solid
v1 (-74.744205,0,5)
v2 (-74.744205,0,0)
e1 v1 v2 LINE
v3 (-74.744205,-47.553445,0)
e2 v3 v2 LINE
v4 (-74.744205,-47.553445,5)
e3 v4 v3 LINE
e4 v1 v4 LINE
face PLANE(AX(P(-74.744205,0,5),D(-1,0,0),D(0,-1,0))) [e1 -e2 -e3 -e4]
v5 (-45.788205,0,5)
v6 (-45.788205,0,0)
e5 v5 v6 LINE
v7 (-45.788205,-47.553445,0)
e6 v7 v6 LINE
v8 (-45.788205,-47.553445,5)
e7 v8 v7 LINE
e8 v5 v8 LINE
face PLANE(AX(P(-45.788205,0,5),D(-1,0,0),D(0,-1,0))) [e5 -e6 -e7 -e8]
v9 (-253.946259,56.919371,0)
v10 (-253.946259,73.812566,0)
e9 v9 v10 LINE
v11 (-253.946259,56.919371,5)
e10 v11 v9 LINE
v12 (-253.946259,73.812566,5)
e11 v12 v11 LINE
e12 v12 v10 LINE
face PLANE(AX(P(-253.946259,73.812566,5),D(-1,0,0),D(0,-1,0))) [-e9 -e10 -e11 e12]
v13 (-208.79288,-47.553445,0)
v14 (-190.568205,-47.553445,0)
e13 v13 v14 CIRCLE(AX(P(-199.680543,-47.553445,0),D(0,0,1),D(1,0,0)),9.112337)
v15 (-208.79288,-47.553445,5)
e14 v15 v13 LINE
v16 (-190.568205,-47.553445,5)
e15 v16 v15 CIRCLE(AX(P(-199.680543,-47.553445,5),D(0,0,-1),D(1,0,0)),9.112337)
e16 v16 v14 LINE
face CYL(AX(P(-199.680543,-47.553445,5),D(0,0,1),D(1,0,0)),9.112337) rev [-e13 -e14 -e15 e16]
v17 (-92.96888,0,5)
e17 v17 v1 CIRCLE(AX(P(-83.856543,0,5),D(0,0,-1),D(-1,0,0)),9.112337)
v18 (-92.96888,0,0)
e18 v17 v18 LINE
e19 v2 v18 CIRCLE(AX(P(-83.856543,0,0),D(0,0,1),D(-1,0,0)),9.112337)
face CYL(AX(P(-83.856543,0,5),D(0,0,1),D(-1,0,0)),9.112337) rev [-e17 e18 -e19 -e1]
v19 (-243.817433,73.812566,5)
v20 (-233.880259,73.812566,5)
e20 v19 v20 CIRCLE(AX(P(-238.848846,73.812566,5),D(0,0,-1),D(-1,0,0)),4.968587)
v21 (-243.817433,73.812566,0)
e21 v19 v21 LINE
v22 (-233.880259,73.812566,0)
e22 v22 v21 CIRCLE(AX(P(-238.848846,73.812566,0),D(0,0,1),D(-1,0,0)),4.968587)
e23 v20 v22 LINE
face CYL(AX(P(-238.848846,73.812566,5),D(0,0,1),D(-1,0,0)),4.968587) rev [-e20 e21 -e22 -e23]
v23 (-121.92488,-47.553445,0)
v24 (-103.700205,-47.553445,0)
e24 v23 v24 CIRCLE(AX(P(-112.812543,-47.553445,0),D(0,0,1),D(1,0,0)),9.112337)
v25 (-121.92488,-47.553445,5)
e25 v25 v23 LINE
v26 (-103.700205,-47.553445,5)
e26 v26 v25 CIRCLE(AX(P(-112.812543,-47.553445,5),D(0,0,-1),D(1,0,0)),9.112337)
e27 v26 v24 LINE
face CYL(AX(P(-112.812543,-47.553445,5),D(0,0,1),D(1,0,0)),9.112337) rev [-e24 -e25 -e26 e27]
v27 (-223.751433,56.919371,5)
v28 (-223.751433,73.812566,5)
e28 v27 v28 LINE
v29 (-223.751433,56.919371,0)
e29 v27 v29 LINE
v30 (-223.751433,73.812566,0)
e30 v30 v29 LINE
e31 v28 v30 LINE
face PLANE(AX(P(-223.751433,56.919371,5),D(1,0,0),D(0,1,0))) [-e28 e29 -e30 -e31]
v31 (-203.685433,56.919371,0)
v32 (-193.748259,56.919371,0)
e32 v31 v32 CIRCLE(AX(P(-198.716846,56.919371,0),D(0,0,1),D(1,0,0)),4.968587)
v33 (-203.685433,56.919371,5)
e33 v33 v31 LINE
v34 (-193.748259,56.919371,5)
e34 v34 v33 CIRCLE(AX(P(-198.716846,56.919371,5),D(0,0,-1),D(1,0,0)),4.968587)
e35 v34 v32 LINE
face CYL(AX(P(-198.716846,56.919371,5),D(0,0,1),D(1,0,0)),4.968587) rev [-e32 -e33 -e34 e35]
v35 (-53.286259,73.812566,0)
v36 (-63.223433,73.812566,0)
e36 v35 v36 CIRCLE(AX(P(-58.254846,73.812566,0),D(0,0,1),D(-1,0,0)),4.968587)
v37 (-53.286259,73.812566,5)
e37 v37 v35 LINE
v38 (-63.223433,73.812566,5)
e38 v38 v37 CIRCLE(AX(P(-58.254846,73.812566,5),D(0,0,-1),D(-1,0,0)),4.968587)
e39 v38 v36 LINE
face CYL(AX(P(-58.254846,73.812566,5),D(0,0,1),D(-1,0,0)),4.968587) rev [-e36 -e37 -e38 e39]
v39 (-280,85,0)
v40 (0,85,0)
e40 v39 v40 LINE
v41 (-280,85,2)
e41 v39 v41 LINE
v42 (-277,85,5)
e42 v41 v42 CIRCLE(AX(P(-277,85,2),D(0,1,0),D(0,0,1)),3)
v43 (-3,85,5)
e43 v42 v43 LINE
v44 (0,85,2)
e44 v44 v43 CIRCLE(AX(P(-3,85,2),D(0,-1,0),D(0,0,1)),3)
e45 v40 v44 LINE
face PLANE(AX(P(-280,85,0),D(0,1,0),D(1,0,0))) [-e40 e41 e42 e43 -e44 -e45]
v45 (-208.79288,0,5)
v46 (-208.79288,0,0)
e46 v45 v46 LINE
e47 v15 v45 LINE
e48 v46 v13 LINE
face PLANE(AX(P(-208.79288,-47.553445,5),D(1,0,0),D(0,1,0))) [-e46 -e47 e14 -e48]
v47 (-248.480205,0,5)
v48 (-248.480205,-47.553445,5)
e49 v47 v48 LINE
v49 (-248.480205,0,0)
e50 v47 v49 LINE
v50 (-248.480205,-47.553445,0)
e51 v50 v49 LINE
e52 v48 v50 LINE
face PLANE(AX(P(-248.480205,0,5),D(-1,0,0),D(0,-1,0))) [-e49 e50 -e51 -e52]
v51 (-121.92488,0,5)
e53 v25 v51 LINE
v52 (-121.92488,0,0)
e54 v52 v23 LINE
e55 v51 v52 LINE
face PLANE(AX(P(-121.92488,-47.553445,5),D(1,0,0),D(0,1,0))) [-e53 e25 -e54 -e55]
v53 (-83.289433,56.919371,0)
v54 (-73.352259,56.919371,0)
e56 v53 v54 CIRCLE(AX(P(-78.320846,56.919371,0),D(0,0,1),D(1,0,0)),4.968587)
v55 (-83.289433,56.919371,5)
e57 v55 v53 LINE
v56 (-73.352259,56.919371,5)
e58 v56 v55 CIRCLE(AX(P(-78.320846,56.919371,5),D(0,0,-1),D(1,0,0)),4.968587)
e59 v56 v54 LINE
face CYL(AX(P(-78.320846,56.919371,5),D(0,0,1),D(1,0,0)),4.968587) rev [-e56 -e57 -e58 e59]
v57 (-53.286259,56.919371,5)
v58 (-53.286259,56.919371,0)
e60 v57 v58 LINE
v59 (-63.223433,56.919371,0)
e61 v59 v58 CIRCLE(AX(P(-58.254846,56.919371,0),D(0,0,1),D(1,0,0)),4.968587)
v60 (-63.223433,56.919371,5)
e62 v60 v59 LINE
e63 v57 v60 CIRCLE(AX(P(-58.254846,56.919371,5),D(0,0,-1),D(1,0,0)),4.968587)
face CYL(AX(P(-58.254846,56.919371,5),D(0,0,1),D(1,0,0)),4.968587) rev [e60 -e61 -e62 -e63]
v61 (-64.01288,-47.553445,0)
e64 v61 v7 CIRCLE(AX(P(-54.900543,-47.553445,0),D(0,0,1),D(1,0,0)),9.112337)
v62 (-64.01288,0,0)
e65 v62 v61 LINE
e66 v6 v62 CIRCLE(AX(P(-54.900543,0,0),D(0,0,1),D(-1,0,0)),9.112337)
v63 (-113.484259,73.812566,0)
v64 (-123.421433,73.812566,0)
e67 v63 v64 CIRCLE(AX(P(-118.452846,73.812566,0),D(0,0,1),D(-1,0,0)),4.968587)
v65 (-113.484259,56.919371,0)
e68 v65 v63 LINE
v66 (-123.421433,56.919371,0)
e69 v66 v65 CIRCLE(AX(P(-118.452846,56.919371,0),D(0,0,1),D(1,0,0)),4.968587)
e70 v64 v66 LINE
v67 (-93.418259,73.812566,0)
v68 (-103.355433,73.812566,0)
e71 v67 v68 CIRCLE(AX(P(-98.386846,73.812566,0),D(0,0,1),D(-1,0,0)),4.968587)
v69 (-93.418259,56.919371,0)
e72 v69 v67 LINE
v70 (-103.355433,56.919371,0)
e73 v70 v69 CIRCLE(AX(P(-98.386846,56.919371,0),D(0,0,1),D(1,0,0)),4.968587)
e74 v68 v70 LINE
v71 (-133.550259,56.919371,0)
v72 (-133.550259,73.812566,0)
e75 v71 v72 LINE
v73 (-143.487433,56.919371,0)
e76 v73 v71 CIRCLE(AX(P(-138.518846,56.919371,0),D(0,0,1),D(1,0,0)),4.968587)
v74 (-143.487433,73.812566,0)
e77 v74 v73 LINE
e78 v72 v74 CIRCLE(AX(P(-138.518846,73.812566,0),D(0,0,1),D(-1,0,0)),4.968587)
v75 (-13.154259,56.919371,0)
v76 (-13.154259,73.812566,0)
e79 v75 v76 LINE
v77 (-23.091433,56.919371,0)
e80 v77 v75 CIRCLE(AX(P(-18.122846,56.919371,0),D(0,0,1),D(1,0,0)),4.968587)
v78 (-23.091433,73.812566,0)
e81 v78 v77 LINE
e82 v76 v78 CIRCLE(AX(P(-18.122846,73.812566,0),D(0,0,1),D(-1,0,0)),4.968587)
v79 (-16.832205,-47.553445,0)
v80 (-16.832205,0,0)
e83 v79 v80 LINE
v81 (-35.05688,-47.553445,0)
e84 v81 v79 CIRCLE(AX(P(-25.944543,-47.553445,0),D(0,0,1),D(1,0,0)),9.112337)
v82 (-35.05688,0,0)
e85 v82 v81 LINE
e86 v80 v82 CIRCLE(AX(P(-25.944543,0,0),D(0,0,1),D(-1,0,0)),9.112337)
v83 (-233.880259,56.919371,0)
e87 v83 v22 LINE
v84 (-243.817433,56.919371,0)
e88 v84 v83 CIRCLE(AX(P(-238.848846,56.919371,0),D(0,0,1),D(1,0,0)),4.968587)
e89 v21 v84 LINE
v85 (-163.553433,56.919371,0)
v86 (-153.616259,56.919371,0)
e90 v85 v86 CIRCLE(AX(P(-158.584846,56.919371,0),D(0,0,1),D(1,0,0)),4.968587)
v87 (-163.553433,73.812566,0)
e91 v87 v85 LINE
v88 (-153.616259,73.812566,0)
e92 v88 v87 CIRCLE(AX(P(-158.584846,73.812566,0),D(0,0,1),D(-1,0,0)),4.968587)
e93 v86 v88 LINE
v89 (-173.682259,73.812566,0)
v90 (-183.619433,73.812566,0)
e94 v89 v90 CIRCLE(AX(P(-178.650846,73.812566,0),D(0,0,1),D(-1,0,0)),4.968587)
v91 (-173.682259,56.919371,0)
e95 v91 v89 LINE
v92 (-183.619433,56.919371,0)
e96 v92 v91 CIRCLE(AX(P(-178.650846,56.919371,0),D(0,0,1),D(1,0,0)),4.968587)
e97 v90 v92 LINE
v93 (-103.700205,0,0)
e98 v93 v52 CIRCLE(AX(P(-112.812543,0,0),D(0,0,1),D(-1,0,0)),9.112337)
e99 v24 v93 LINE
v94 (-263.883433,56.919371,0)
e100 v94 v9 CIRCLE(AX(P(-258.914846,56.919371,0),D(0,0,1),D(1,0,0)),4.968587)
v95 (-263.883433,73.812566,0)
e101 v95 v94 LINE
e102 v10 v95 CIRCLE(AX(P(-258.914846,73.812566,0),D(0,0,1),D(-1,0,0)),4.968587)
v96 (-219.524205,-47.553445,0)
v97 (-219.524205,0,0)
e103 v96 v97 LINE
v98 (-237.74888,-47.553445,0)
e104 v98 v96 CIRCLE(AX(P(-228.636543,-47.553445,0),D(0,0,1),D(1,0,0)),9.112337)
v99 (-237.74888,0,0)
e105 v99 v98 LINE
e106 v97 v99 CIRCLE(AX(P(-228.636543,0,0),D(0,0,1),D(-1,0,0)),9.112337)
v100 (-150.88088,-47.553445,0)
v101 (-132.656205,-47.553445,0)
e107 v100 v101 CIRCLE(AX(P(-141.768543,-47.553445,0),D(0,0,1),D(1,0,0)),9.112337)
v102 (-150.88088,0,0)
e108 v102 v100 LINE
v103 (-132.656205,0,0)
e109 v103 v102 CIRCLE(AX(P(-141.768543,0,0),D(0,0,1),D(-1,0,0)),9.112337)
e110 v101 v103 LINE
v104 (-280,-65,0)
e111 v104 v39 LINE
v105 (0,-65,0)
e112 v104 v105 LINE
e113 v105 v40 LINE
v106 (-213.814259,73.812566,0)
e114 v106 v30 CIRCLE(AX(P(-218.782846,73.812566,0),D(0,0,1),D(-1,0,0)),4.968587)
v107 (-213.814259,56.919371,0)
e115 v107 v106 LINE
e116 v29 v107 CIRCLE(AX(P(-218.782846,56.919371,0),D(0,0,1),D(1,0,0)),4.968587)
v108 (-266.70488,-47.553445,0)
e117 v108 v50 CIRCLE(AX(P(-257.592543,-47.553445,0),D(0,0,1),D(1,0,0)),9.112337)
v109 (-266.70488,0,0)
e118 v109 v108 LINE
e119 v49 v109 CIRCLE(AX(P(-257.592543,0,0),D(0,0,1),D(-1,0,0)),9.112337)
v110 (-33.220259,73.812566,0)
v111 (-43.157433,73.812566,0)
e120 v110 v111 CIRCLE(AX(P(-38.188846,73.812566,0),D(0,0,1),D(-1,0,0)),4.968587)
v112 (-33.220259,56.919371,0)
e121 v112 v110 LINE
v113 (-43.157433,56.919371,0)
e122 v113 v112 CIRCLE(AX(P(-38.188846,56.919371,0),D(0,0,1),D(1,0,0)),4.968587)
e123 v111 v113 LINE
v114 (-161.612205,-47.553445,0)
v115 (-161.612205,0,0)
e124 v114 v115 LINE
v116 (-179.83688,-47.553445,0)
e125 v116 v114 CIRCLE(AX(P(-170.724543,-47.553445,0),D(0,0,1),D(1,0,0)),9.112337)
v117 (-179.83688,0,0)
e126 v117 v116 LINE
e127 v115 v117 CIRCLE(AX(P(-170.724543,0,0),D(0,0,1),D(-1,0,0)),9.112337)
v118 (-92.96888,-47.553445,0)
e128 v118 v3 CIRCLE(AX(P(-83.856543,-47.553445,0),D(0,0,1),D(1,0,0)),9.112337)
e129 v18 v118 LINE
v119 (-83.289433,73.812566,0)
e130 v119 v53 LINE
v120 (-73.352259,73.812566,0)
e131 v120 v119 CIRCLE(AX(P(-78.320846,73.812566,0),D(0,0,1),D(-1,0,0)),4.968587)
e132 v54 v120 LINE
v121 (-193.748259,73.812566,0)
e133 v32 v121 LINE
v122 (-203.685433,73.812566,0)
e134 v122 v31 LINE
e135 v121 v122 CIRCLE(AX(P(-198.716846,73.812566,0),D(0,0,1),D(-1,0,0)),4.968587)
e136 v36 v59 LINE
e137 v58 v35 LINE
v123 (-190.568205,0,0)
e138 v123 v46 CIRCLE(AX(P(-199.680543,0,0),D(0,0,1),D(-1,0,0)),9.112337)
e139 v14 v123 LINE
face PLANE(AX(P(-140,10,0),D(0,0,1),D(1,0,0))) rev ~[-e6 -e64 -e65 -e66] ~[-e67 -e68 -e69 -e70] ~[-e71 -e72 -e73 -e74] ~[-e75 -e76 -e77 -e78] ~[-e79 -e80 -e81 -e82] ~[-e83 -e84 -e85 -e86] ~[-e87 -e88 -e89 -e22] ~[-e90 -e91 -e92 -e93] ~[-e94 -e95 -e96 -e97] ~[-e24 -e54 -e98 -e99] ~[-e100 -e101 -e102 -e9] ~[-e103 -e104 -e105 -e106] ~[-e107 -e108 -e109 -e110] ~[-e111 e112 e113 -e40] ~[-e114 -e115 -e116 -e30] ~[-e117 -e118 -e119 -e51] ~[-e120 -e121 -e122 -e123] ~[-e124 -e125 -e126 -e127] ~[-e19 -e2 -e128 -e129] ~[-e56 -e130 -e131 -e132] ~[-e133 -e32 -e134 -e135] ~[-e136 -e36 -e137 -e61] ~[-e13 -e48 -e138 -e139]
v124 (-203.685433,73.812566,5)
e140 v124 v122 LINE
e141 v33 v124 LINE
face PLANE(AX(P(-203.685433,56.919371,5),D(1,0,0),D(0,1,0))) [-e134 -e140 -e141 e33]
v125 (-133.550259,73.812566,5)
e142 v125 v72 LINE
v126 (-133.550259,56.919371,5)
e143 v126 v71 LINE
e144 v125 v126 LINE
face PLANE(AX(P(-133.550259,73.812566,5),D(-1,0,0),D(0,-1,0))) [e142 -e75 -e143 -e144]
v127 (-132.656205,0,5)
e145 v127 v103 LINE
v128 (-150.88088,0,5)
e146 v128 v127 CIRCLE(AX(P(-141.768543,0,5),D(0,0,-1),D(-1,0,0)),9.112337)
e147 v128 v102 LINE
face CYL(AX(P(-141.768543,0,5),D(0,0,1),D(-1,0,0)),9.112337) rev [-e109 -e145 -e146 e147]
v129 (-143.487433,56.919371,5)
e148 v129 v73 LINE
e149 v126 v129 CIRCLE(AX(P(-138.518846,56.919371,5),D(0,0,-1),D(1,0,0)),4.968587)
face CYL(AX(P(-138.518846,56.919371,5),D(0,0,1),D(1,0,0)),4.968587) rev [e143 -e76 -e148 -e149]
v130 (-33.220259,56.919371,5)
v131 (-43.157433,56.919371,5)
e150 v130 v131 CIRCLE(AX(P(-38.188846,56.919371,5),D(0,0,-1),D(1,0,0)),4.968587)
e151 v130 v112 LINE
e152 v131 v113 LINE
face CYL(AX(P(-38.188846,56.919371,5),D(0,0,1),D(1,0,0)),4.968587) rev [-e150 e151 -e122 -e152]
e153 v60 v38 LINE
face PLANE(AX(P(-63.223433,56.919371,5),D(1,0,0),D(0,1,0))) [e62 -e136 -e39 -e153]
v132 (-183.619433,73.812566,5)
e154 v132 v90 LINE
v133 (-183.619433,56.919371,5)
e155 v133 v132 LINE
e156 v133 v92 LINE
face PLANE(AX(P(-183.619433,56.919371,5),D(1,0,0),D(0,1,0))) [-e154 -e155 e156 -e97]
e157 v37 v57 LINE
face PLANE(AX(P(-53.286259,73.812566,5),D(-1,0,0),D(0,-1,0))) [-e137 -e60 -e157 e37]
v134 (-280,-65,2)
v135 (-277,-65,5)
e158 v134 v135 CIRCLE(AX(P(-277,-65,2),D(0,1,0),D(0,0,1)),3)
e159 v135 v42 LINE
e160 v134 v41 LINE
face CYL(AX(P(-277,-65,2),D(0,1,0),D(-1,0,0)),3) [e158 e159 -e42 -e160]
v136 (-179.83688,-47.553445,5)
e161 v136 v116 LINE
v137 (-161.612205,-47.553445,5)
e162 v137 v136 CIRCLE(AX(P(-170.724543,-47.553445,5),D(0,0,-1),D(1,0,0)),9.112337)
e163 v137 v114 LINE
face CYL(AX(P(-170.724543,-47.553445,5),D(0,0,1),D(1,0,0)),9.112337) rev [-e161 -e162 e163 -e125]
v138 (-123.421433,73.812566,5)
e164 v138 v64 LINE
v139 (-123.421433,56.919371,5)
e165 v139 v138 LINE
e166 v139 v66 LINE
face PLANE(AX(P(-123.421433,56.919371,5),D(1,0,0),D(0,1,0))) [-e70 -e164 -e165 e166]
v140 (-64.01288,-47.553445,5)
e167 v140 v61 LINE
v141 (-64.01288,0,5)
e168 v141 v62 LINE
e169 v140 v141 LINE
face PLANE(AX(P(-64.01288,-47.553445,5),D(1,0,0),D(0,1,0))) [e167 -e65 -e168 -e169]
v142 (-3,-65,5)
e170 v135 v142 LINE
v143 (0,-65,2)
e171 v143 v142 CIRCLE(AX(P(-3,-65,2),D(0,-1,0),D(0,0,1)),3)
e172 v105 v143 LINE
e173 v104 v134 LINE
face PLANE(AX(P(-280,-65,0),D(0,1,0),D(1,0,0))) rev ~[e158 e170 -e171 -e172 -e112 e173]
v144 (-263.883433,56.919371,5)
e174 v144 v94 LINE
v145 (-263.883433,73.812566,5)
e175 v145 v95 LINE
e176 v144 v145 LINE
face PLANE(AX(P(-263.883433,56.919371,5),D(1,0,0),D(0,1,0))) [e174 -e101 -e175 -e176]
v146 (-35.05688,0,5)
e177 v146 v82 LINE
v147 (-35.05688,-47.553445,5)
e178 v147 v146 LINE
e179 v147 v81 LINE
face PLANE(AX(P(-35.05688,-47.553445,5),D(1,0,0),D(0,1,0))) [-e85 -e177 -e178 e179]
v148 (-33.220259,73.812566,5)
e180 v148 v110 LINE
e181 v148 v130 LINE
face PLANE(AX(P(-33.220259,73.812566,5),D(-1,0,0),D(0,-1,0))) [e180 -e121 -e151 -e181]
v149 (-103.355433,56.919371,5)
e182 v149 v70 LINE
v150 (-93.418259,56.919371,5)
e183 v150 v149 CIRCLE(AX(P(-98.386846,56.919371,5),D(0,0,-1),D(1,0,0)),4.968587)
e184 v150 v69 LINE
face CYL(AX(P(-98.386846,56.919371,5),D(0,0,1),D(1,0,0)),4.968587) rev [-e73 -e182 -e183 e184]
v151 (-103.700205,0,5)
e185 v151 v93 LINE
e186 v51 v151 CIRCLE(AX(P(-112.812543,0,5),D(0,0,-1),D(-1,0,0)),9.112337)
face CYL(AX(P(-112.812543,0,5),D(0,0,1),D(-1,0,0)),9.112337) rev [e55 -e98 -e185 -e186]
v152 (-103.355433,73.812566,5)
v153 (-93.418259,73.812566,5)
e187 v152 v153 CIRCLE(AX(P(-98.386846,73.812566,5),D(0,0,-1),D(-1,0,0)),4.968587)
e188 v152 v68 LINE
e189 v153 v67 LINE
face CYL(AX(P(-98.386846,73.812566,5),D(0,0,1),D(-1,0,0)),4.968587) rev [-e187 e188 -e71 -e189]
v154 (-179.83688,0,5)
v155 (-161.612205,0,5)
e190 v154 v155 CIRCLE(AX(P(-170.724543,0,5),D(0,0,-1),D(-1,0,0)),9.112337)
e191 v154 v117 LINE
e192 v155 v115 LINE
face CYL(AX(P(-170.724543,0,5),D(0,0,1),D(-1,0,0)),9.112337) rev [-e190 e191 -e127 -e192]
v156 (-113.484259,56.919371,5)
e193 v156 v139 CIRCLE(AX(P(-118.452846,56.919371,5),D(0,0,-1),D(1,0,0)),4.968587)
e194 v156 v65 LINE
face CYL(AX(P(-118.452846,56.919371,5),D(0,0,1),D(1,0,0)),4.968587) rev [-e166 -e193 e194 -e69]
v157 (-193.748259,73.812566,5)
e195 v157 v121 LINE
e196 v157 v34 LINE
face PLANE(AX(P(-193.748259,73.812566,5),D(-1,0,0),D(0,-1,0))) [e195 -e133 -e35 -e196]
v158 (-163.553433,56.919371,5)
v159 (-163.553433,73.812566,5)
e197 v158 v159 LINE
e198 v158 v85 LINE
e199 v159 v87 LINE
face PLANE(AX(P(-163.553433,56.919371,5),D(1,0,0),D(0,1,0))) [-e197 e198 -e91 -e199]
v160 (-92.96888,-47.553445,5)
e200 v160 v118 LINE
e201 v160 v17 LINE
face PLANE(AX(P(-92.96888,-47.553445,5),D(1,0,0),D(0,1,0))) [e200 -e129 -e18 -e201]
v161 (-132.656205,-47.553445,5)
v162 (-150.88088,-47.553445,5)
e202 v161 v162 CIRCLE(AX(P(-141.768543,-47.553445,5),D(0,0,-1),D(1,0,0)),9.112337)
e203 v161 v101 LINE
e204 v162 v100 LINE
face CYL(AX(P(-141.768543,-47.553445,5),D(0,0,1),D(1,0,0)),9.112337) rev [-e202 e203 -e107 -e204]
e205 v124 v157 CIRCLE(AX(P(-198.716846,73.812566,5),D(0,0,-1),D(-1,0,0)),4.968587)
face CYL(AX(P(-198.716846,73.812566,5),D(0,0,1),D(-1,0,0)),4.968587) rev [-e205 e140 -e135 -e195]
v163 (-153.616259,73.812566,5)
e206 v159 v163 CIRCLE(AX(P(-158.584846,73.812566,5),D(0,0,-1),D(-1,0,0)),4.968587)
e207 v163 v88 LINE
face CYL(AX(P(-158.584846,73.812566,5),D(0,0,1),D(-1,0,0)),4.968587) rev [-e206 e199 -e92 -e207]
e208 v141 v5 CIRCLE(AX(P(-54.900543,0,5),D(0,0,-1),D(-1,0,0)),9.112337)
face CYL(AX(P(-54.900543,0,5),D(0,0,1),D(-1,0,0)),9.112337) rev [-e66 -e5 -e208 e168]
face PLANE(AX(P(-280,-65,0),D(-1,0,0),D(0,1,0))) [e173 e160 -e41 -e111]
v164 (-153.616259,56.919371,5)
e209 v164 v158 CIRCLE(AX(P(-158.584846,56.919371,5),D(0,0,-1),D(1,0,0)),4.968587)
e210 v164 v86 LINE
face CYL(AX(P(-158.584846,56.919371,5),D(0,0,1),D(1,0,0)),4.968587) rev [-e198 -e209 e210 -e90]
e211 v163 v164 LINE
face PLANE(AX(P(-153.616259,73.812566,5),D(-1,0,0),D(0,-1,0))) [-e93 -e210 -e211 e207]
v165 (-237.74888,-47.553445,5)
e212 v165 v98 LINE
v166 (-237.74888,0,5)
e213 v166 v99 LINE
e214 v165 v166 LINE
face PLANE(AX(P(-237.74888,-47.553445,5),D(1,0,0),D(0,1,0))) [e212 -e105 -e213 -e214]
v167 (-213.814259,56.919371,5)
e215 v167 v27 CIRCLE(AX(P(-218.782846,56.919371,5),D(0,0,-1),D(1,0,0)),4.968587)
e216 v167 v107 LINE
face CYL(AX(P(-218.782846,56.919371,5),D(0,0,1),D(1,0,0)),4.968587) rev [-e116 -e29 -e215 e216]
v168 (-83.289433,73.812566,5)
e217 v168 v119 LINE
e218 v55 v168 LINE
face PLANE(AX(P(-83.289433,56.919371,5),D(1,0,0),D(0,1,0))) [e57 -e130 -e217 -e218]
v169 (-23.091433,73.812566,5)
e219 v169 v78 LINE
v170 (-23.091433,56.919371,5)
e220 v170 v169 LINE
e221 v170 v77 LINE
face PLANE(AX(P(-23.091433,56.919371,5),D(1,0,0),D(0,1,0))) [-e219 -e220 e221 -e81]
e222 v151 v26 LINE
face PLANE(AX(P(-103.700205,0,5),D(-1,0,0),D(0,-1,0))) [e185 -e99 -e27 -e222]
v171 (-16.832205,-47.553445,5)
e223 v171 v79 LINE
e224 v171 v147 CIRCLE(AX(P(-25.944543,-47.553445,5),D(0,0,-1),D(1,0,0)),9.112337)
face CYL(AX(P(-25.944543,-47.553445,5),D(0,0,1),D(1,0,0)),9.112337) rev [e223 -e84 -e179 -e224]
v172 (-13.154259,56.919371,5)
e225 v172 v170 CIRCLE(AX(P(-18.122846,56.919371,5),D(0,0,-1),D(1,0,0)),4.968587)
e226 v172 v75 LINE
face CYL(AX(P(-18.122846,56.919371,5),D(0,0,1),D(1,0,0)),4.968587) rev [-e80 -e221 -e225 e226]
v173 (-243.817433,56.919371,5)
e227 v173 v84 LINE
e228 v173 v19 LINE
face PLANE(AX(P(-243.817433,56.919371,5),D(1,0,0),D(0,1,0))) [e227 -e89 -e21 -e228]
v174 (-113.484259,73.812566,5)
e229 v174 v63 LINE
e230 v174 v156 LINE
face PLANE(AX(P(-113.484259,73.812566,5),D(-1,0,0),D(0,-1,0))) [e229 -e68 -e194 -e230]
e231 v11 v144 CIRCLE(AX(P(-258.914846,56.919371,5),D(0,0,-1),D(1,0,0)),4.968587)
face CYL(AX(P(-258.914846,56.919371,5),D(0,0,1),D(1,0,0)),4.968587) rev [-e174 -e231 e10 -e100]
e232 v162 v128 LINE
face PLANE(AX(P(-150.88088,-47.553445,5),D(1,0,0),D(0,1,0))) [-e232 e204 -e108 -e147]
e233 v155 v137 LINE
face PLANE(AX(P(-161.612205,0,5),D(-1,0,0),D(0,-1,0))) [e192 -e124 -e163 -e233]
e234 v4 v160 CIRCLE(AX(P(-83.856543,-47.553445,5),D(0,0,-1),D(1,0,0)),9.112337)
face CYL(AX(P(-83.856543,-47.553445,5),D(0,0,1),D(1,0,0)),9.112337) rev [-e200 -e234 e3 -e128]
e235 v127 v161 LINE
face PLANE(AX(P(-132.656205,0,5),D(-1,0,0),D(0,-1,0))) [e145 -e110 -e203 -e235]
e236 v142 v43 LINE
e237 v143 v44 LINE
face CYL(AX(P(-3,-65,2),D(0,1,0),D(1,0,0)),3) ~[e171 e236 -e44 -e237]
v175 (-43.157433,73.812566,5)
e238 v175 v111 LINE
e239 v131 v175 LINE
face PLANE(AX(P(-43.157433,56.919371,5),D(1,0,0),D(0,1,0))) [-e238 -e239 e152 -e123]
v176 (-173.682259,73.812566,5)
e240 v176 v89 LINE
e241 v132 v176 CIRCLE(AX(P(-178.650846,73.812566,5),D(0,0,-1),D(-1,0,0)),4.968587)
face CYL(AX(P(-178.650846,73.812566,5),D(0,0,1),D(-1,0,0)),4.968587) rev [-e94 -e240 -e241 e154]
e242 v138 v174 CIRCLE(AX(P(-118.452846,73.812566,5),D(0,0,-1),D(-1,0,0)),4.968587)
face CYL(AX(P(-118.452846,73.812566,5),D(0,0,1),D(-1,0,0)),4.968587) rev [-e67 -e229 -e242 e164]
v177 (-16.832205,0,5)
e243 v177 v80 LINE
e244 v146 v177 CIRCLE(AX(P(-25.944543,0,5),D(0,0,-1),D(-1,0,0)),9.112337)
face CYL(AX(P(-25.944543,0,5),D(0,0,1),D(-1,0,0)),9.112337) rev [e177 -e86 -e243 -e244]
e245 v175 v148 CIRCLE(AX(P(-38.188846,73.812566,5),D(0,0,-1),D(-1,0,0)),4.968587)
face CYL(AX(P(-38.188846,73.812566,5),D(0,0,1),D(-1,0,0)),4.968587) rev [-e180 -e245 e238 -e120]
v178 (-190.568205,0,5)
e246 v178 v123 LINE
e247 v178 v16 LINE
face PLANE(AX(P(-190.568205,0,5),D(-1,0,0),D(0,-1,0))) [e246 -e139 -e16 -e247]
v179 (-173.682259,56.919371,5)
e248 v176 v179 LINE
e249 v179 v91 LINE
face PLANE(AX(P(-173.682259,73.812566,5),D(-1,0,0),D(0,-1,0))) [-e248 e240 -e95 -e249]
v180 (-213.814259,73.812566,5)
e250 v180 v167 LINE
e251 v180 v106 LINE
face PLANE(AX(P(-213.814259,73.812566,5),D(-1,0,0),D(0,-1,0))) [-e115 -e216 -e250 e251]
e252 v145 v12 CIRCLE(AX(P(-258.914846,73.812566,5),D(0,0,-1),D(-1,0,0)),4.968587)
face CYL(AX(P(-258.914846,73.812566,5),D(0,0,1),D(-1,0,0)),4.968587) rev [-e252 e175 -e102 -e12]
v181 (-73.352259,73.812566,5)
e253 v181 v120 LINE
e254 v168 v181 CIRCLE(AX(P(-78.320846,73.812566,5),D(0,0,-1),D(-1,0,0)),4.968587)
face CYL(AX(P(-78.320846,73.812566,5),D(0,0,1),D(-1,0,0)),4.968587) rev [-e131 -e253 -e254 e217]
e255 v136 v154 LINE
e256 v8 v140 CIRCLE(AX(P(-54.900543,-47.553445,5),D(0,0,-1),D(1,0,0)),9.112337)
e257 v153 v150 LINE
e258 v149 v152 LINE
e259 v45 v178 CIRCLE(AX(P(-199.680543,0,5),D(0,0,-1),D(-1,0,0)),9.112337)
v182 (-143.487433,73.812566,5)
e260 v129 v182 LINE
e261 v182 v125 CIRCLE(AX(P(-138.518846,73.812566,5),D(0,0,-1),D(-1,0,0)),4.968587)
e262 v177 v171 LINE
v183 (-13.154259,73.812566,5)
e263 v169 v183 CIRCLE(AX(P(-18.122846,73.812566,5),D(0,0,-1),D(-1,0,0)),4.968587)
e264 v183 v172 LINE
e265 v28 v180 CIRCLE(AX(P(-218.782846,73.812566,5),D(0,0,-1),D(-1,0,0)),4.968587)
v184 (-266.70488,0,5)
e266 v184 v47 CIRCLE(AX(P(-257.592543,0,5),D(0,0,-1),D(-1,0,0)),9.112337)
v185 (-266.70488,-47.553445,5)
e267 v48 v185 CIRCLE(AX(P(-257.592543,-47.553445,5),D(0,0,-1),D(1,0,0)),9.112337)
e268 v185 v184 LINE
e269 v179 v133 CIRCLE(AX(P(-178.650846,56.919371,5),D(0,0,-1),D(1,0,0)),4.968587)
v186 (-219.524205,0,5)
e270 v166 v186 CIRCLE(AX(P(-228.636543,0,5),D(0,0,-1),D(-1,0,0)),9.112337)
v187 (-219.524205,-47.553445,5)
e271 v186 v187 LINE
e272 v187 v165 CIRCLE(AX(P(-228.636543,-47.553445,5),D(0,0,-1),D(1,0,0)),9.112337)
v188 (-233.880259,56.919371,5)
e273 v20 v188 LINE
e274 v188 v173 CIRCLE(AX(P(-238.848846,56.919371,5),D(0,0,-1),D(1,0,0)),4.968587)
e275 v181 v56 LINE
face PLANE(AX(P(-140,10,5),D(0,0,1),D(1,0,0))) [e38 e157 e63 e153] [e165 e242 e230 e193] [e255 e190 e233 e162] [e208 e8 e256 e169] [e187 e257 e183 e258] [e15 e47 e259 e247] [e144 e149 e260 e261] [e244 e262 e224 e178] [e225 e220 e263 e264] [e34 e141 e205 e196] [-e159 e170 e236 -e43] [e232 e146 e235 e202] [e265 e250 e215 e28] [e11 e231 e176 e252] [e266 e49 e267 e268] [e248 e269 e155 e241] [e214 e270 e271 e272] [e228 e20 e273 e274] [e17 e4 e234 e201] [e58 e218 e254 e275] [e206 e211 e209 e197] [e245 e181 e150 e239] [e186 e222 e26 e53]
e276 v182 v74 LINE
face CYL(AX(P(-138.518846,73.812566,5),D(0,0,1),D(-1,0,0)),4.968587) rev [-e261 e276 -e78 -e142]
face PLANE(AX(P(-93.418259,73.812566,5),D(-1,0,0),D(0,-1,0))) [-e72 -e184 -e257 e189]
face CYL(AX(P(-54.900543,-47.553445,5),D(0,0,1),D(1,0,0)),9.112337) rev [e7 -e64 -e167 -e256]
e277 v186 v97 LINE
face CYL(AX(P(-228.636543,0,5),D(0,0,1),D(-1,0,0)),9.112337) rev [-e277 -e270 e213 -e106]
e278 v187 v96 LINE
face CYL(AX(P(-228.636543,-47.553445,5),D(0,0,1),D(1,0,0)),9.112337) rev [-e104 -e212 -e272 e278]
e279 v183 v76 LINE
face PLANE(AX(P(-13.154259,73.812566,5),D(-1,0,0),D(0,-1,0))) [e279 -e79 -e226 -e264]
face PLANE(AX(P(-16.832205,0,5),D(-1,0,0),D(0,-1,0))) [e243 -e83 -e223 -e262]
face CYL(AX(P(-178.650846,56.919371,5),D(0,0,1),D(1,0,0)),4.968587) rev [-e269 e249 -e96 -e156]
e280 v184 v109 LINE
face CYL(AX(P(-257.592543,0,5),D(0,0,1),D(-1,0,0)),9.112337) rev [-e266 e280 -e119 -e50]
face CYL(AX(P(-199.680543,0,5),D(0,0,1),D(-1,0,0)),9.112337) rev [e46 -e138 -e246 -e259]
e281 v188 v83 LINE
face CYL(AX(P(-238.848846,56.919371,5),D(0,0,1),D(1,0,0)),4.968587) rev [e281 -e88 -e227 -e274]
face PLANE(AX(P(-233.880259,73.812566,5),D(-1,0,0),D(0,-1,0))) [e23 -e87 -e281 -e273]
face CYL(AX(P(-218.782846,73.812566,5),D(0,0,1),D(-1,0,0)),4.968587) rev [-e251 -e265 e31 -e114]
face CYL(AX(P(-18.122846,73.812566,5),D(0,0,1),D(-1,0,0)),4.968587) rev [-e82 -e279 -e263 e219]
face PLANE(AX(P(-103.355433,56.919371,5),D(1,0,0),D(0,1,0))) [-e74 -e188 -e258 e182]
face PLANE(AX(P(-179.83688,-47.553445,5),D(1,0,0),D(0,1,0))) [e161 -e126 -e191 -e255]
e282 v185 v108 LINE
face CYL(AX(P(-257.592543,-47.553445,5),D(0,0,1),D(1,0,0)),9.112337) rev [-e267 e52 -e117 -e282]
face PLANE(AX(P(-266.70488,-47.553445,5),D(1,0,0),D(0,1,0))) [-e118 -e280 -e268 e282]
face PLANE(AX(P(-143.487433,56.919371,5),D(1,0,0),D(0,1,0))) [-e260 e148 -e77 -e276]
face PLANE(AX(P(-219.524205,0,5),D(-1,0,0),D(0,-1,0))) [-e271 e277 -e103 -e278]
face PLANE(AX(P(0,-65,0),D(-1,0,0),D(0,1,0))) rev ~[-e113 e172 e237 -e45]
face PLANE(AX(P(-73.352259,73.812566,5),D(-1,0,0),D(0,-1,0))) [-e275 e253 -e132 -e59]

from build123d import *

# Parameters (mm, degrees)
SKETCH1_W           = 280
SKETCH1_H           = 150
BOSS_EXTRUDE1_DEPTH = 5
FILLET1_R           = 3
CUT_EXTRUDE1_REACH  = 294.66
CUT_EXTRUDE2_REACH  = 294.66


with BuildPart() as part:
    # Sketch1 → Boss-Extrude1 (new body)
    with BuildSketch(Plane.XY):
        with Locations((-140, 10)):
            Rectangle(SKETCH1_W, SKETCH1_H)
    extrude(amount=BOSS_EXTRUDE1_DEPTH)

    # Fillet1
    fillet1_edges = [part.edges().sort_by_distance(p)[0] for p in [
        (-280, 10, 5),
        (0, 10, 5),
    ]]
    fillet(fillet1_edges, radius=FILLET1_R)

    # Sketch2 → Cut-Extrude1 (cut, up to next)
    with BuildSketch(Plane.XY.offset(5), mode=Mode.PRIVATE) as cut_extrude1_sk1:
        with BuildLine():
            Line((-253.946258801, 73.812566177), (-253.946258801, 56.919370832))
            ThreePointArc((-253.946258801, 56.919370832), (-258.914845667, 51.950783966), (-263.883432533, 56.919370832))
            Line((-263.883432533, 56.919370832), (-263.883432533, 73.812566177))
            ThreePointArc((-263.883432533, 73.812566177), (-258.914845667, 78.781153044), (-253.946258801, 73.812566177))
        make_face()
    cut_extrude1_tool1 = extrude(cut_extrude1_sk1.sketch, amount=-CUT_EXTRUDE1_REACH, mode=Mode.PRIVATE) & part.part
    # Sketch2 → Cut-Extrude1 (cut, up to next)
    with BuildSketch(Plane.XY.offset(5), mode=Mode.PRIVATE) as cut_extrude1_sk2:
        with BuildLine():
            Line((-233.880258801, 73.812566177), (-233.880258801, 56.919370832))
            ThreePointArc((-233.880258801, 56.919370832), (-238.848845667, 51.950783966), (-243.817432533, 56.919370832))
            Line((-243.817432533, 56.919370832), (-243.817432533, 73.812566177))
            ThreePointArc((-243.817432533, 73.812566177), (-238.848845667, 78.781153044), (-233.880258801, 73.812566177))
        make_face()
    cut_extrude1_tool2 = extrude(cut_extrude1_sk2.sketch, amount=-CUT_EXTRUDE1_REACH, mode=Mode.PRIVATE) & part.part
    # Sketch2 → Cut-Extrude1 (cut, up to next)
    with BuildSketch(Plane.XY.offset(5), mode=Mode.PRIVATE) as cut_extrude1_sk3:
        with BuildLine():
            Line((-213.814258801, 73.812566177), (-213.814258801, 56.919370832))
            ThreePointArc((-213.814258801, 56.919370832), (-218.782845667, 51.950783966), (-223.751432533, 56.919370832))
            Line((-223.751432533, 56.919370832), (-223.751432533, 73.812566177))
            ThreePointArc((-223.751432533, 73.812566177), (-218.782845667, 78.781153044), (-213.814258801, 73.812566177))
        make_face()
    cut_extrude1_tool3 = extrude(cut_extrude1_sk3.sketch, amount=-CUT_EXTRUDE1_REACH, mode=Mode.PRIVATE) & part.part
    # Sketch2 → Cut-Extrude1 (cut, up to next)
    with BuildSketch(Plane.XY.offset(5), mode=Mode.PRIVATE) as cut_extrude1_sk4:
        with BuildLine():
            Line((-193.748258801, 73.812566177), (-193.748258801, 56.919370832))
            ThreePointArc((-193.748258801, 56.919370832), (-198.716845667, 51.950783966), (-203.685432533, 56.919370832))
            Line((-203.685432533, 56.919370832), (-203.685432533, 73.812566177))
            ThreePointArc((-203.685432533, 73.812566177), (-198.716845667, 78.781153044), (-193.748258801, 73.812566177))
        make_face()
    cut_extrude1_tool4 = extrude(cut_extrude1_sk4.sketch, amount=-CUT_EXTRUDE1_REACH, mode=Mode.PRIVATE) & part.part
    # Sketch2 → Cut-Extrude1 (cut, up to next)
    with BuildSketch(Plane.XY.offset(5), mode=Mode.PRIVATE) as cut_extrude1_sk5:
        with BuildLine():
            Line((-173.682258801, 73.812566177), (-173.682258801, 56.919370832))
            ThreePointArc((-173.682258801, 56.919370832), (-178.650845667, 51.950783966), (-183.619432533, 56.919370832))
            Line((-183.619432533, 56.919370832), (-183.619432533, 73.812566177))
            ThreePointArc((-183.619432533, 73.812566177), (-178.650845667, 78.781153044), (-173.682258801, 73.812566177))
        make_face()
    cut_extrude1_tool5 = extrude(cut_extrude1_sk5.sketch, amount=-CUT_EXTRUDE1_REACH, mode=Mode.PRIVATE) & part.part
    # Sketch2 → Cut-Extrude1 (cut, up to next)
    with BuildSketch(Plane.XY.offset(5), mode=Mode.PRIVATE) as cut_extrude1_sk6:
        with BuildLine():
            Line((-153.616258801, 73.812566177), (-153.616258801, 56.919370832))
            ThreePointArc((-153.616258801, 56.919370832), (-158.584845667, 51.950783966), (-163.553432533, 56.919370832))
            Line((-163.553432533, 56.919370832), (-163.553432533, 73.812566177))
            ThreePointArc((-163.553432533, 73.812566177), (-158.584845667, 78.781153044), (-153.616258801, 73.812566177))
        make_face()
    cut_extrude1_tool6 = extrude(cut_extrude1_sk6.sketch, amount=-CUT_EXTRUDE1_REACH, mode=Mode.PRIVATE) & part.part
    # Sketch2 → Cut-Extrude1 (cut, up to next)
    with BuildSketch(Plane.XY.offset(5), mode=Mode.PRIVATE) as cut_extrude1_sk7:
        with BuildLine():
            Line((-133.550258801, 73.812566177), (-133.550258801, 56.919370832))
            ThreePointArc((-133.550258801, 56.919370832), (-138.518845667, 51.950783966), (-143.487432533, 56.919370832))
            Line((-143.487432533, 56.919370832), (-143.487432533, 73.812566177))
            ThreePointArc((-143.487432533, 73.812566177), (-138.518845667, 78.781153044), (-133.550258801, 73.812566177))
        make_face()
    cut_extrude1_tool7 = extrude(cut_extrude1_sk7.sketch, amount=-CUT_EXTRUDE1_REACH, mode=Mode.PRIVATE) & part.part
    # Sketch2 → Cut-Extrude1 (cut, up to next)
    with BuildSketch(Plane.XY.offset(5), mode=Mode.PRIVATE) as cut_extrude1_sk8:
        with BuildLine():
            Line((-113.484258801, 73.812566177), (-113.484258801, 56.919370832))
            ThreePointArc((-113.484258801, 56.919370832), (-118.452845667, 51.950783966), (-123.421432533, 56.919370832))
            Line((-123.421432533, 56.919370832), (-123.421432533, 73.812566177))
            ThreePointArc((-123.421432533, 73.812566177), (-118.452845667, 78.781153044), (-113.484258801, 73.812566177))
        make_face()
    cut_extrude1_tool8 = extrude(cut_extrude1_sk8.sketch, amount=-CUT_EXTRUDE1_REACH, mode=Mode.PRIVATE) & part.part
    # Sketch2 → Cut-Extrude1 (cut, up to next)
    with BuildSketch(Plane.XY.offset(5), mode=Mode.PRIVATE) as cut_extrude1_sk9:
        with BuildLine():
            Line((-93.418258801, 73.812566177), (-93.418258801, 56.919370832))
            ThreePointArc((-93.418258801, 56.919370832), (-98.386845667, 51.950783966), (-103.355432533, 56.919370832))
            Line((-103.355432533, 56.919370832), (-103.355432533, 73.812566177))
            ThreePointArc((-103.355432533, 73.812566177), (-98.386845667, 78.781153044), (-93.418258801, 73.812566177))
        make_face()
    cut_extrude1_tool9 = extrude(cut_extrude1_sk9.sketch, amount=-CUT_EXTRUDE1_REACH, mode=Mode.PRIVATE) & part.part
    # Sketch2 → Cut-Extrude1 (cut, up to next)
    with BuildSketch(Plane.XY.offset(5), mode=Mode.PRIVATE) as cut_extrude1_sk10:
        with BuildLine():
            Line((-73.352258801, 73.812566177), (-73.352258801, 56.919370832))
            ThreePointArc((-73.352258801, 56.919370832), (-78.320845667, 51.950783966), (-83.289432533, 56.919370832))
            Line((-83.289432533, 56.919370832), (-83.289432533, 73.812566177))
            ThreePointArc((-83.289432533, 73.812566177), (-78.320845667, 78.781153044), (-73.352258801, 73.812566177))
        make_face()
    cut_extrude1_tool10 = extrude(cut_extrude1_sk10.sketch, amount=-CUT_EXTRUDE1_REACH, mode=Mode.PRIVATE) & part.part
    # Sketch2 → Cut-Extrude1 (cut, up to next)
    with BuildSketch(Plane.XY.offset(5), mode=Mode.PRIVATE) as cut_extrude1_sk11:
        with BuildLine():
            Line((-53.286258801, 73.812566177), (-53.286258801, 56.919370832))
            ThreePointArc((-53.286258801, 56.919370832), (-58.254845667, 51.950783966), (-63.223432533, 56.919370832))
            Line((-63.223432533, 56.919370832), (-63.223432533, 73.812566177))
            ThreePointArc((-63.223432533, 73.812566177), (-58.254845667, 78.781153044), (-53.286258801, 73.812566177))
        make_face()
    cut_extrude1_tool11 = extrude(cut_extrude1_sk11.sketch, amount=-CUT_EXTRUDE1_REACH, mode=Mode.PRIVATE) & part.part
    # Sketch2 → Cut-Extrude1 (cut, up to next)
    with BuildSketch(Plane.XY.offset(5), mode=Mode.PRIVATE) as cut_extrude1_sk12:
        with BuildLine():
            Line((-33.220258801, 73.812566177), (-33.220258801, 56.919370832))
            ThreePointArc((-33.220258801, 56.919370832), (-38.188845667, 51.950783966), (-43.157432533, 56.919370832))
            Line((-43.157432533, 56.919370832), (-43.157432533, 73.812566177))
            ThreePointArc((-43.157432533, 73.812566177), (-38.188845667, 78.781153044), (-33.220258801, 73.812566177))
        make_face()
    cut_extrude1_tool12 = extrude(cut_extrude1_sk12.sketch, amount=-CUT_EXTRUDE1_REACH, mode=Mode.PRIVATE) & part.part
    # Sketch2 → Cut-Extrude1 (cut, up to next)
    with BuildSketch(Plane.XY.offset(5), mode=Mode.PRIVATE) as cut_extrude1_sk13:
        with BuildLine():
            Line((-13.154258801, 73.812566177), (-13.154258801, 56.919370832))
            ThreePointArc((-13.154258801, 56.919370832), (-18.122845667, 51.950783966), (-23.091432533, 56.919370832))
            Line((-23.091432533, 56.919370832), (-23.091432533, 73.812566177))
            ThreePointArc((-23.091432533, 73.812566177), (-18.122845667, 78.781153044), (-13.154258801, 73.812566177))
        make_face()
    cut_extrude1_tool13 = extrude(cut_extrude1_sk13.sketch, amount=-CUT_EXTRUDE1_REACH, mode=Mode.PRIVATE) & part.part
    add(cut_extrude1_tool1.solids().sort_by_distance((-258.914846, 65.365969, 5))[0], mode=Mode.SUBTRACT)
    add(cut_extrude1_tool2.solids().sort_by_distance((-238.848846, 65.365969, 5))[0], mode=Mode.SUBTRACT)
    add(cut_extrude1_tool3.solids().sort_by_distance((-218.782846, 65.365969, 5))[0], mode=Mode.SUBTRACT)
    add(cut_extrude1_tool4.solids().sort_by_distance((-198.716846, 65.365969, 5))[0], mode=Mode.SUBTRACT)
    add(cut_extrude1_tool5.solids().sort_by_distance((-178.650846, 65.365969, 5))[0], mode=Mode.SUBTRACT)
    add(cut_extrude1_tool6.solids().sort_by_distance((-158.584846, 65.365969, 5))[0], mode=Mode.SUBTRACT)
    add(cut_extrude1_tool7.solids().sort_by_distance((-138.518846, 65.365969, 5))[0], mode=Mode.SUBTRACT)
    add(cut_extrude1_tool8.solids().sort_by_distance((-118.452846, 65.365969, 5))[0], mode=Mode.SUBTRACT)
    add(cut_extrude1_tool9.solids().sort_by_distance((-98.386846, 65.365969, 5))[0], mode=Mode.SUBTRACT)
    add(cut_extrude1_tool10.solids().sort_by_distance((-78.320846, 65.365969, 5))[0], mode=Mode.SUBTRACT)
    add(cut_extrude1_tool11.solids().sort_by_distance((-58.254846, 65.365969, 5))[0], mode=Mode.SUBTRACT)
    add(cut_extrude1_tool12.solids().sort_by_distance((-38.188846, 65.365969, 5))[0], mode=Mode.SUBTRACT)
    add(cut_extrude1_tool13.solids().sort_by_distance((-18.122846, 65.365969, 5))[0], mode=Mode.SUBTRACT)

    # Sketch3 → Cut-Extrude2 (cut, up to next)
    with BuildSketch(Plane.XY.offset(5), mode=Mode.PRIVATE) as cut_extrude2_sk1:
        with BuildLine():
            Line((-248.480205324, 0), (-248.480205324, -47.553445355))
            ThreePointArc((-248.480205324, -47.553445355), (-257.592542571, -56.665782602), (-266.704879818, -47.553445355))
            Line((-266.704879818, -47.553445355), (-266.704879818, 0))
            ThreePointArc((-266.704879818, 0), (-257.592542571, 9.112337247), (-248.480205324, 0))
        make_face()
    cut_extrude2_tool1 = extrude(cut_extrude2_sk1.sketch, amount=-CUT_EXTRUDE2_REACH, mode=Mode.PRIVATE) & part.part
    # Sketch3 → Cut-Extrude2 (cut, up to next)
    with BuildSketch(Plane.XY.offset(5), mode=Mode.PRIVATE) as cut_extrude2_sk2:
        with BuildLine():
            Line((-219.524205324, 0), (-219.524205324, -47.553445355))
            ThreePointArc((-219.524205324, -47.553445355), (-228.636542571, -56.665782602), (-237.748879818, -47.553445355))
            Line((-237.748879818, -47.553445355), (-237.748879818, 0))
            ThreePointArc((-237.748879818, 0), (-228.636542571, 9.112337247), (-219.524205324, 0))
        make_face()
    cut_extrude2_tool2 = extrude(cut_extrude2_sk2.sketch, amount=-CUT_EXTRUDE2_REACH, mode=Mode.PRIVATE) & part.part
    # Sketch3 → Cut-Extrude2 (cut, up to next)
    with BuildSketch(Plane.XY.offset(5), mode=Mode.PRIVATE) as cut_extrude2_sk3:
        with BuildLine():
            Line((-190.568205324, 0), (-190.568205324, -47.553445355))
            ThreePointArc((-190.568205324, -47.553445355), (-199.680542571, -56.665782602), (-208.792879818, -47.553445355))
            Line((-208.792879818, -47.553445355), (-208.792879818, 0))
            ThreePointArc((-208.792879818, 0), (-199.680542571, 9.112337247), (-190.568205324, 0))
        make_face()
    cut_extrude2_tool3 = extrude(cut_extrude2_sk3.sketch, amount=-CUT_EXTRUDE2_REACH, mode=Mode.PRIVATE) & part.part
    # Sketch3 → Cut-Extrude2 (cut, up to next)
    with BuildSketch(Plane.XY.offset(5), mode=Mode.PRIVATE) as cut_extrude2_sk4:
        with BuildLine():
            Line((-161.612205324, 0), (-161.612205324, -47.553445355))
            ThreePointArc((-161.612205324, -47.553445355), (-170.724542571, -56.665782602), (-179.836879818, -47.553445355))
            Line((-179.836879818, -47.553445355), (-179.836879818, 0))
            ThreePointArc((-179.836879818, 0), (-170.724542571, 9.112337247), (-161.612205324, 0))
        make_face()
    cut_extrude2_tool4 = extrude(cut_extrude2_sk4.sketch, amount=-CUT_EXTRUDE2_REACH, mode=Mode.PRIVATE) & part.part
    # Sketch3 → Cut-Extrude2 (cut, up to next)
    with BuildSketch(Plane.XY.offset(5), mode=Mode.PRIVATE) as cut_extrude2_sk5:
        with BuildLine():
            Line((-132.656205324, 0), (-132.656205324, -47.553445355))
            ThreePointArc((-132.656205324, -47.553445355), (-141.768542571, -56.665782602), (-150.880879818, -47.553445355))
            Line((-150.880879818, -47.553445355), (-150.880879818, 0))
            ThreePointArc((-150.880879818, 0), (-141.768542571, 9.112337247), (-132.656205324, 0))
        make_face()
    cut_extrude2_tool5 = extrude(cut_extrude2_sk5.sketch, amount=-CUT_EXTRUDE2_REACH, mode=Mode.PRIVATE) & part.part
    # Sketch3 → Cut-Extrude2 (cut, up to next)
    with BuildSketch(Plane.XY.offset(5), mode=Mode.PRIVATE) as cut_extrude2_sk6:
        with BuildLine():
            Line((-103.700205324, 0), (-103.700205324, -47.553445355))
            ThreePointArc((-103.700205324, -47.553445355), (-112.812542571, -56.665782602), (-121.924879818, -47.553445355))
            Line((-121.924879818, -47.553445355), (-121.924879818, 0))
            ThreePointArc((-121.924879818, 0), (-112.812542571, 9.112337247), (-103.700205324, 0))
        make_face()
    cut_extrude2_tool6 = extrude(cut_extrude2_sk6.sketch, amount=-CUT_EXTRUDE2_REACH, mode=Mode.PRIVATE) & part.part
    # Sketch3 → Cut-Extrude2 (cut, up to next)
    with BuildSketch(Plane.XY.offset(5), mode=Mode.PRIVATE) as cut_extrude2_sk7:
        with BuildLine():
            Line((-74.744205324, 0), (-74.744205324, -47.553445355))
            ThreePointArc((-74.744205324, -47.553445355), (-83.856542571, -56.665782602), (-92.968879818, -47.553445355))
            Line((-92.968879818, -47.553445355), (-92.968879818, 0))
            ThreePointArc((-92.968879818, 0), (-83.856542571, 9.112337247), (-74.744205324, 0))
        make_face()
    cut_extrude2_tool7 = extrude(cut_extrude2_sk7.sketch, amount=-CUT_EXTRUDE2_REACH, mode=Mode.PRIVATE) & part.part
    # Sketch3 → Cut-Extrude2 (cut, up to next)
    with BuildSketch(Plane.XY.offset(5), mode=Mode.PRIVATE) as cut_extrude2_sk8:
        with BuildLine():
            Line((-45.788205324, 0), (-45.788205324, -47.553445355))
            ThreePointArc((-45.788205324, -47.553445355), (-54.900542571, -56.665782602), (-64.012879818, -47.553445355))
            Line((-64.012879818, -47.553445355), (-64.012879818, 0))
            ThreePointArc((-64.012879818, 0), (-54.900542571, 9.112337247), (-45.788205324, 0))
        make_face()
    cut_extrude2_tool8 = extrude(cut_extrude2_sk8.sketch, amount=-CUT_EXTRUDE2_REACH, mode=Mode.PRIVATE) & part.part
    # Sketch3 → Cut-Extrude2 (cut, up to next)
    with BuildSketch(Plane.XY.offset(5), mode=Mode.PRIVATE) as cut_extrude2_sk9:
        with BuildLine():
            Line((-16.832205324, 0), (-16.832205324, -47.553445355))
            ThreePointArc((-16.832205324, -47.553445355), (-25.944542571, -56.665782602), (-35.056879818, -47.553445355))
            Line((-35.056879818, -47.553445355), (-35.056879818, 0))
            ThreePointArc((-35.056879818, 0), (-25.944542571, 9.112337247), (-16.832205324, 0))
        make_face()
    cut_extrude2_tool9 = extrude(cut_extrude2_sk9.sketch, amount=-CUT_EXTRUDE2_REACH, mode=Mode.PRIVATE) & part.part
    add(cut_extrude2_tool1.solids().sort_by_distance((-257.592543, -23.776723, 5))[0], mode=Mode.SUBTRACT)
    add(cut_extrude2_tool2.solids().sort_by_distance((-228.636543, -23.776723, 5))[0], mode=Mode.SUBTRACT)
    add(cut_extrude2_tool3.solids().sort_by_distance((-199.680543, -23.776723, 5))[0], mode=Mode.SUBTRACT)
    add(cut_extrude2_tool4.solids().sort_by_distance((-170.724543, -23.776723, 5))[0], mode=Mode.SUBTRACT)
    add(cut_extrude2_tool5.solids().sort_by_distance((-141.768543, -23.776723, 5))[0], mode=Mode.SUBTRACT)
    add(cut_extrude2_tool6.solids().sort_by_distance((-112.812543, -23.776723, 5))[0], mode=Mode.SUBTRACT)
    add(cut_extrude2_tool7.solids().sort_by_distance((-83.856543, -23.776723, 5))[0], mode=Mode.SUBTRACT)
    add(cut_extrude2_tool8.solids().sort_by_distance((-54.900543, -23.776723, 5))[0], mode=Mode.SUBTRACT)
    add(cut_extrude2_tool9.solids().sort_by_distance((-25.944543, -23.776723, 5))[0], mode=Mode.SUBTRACT)


solid = part.part
